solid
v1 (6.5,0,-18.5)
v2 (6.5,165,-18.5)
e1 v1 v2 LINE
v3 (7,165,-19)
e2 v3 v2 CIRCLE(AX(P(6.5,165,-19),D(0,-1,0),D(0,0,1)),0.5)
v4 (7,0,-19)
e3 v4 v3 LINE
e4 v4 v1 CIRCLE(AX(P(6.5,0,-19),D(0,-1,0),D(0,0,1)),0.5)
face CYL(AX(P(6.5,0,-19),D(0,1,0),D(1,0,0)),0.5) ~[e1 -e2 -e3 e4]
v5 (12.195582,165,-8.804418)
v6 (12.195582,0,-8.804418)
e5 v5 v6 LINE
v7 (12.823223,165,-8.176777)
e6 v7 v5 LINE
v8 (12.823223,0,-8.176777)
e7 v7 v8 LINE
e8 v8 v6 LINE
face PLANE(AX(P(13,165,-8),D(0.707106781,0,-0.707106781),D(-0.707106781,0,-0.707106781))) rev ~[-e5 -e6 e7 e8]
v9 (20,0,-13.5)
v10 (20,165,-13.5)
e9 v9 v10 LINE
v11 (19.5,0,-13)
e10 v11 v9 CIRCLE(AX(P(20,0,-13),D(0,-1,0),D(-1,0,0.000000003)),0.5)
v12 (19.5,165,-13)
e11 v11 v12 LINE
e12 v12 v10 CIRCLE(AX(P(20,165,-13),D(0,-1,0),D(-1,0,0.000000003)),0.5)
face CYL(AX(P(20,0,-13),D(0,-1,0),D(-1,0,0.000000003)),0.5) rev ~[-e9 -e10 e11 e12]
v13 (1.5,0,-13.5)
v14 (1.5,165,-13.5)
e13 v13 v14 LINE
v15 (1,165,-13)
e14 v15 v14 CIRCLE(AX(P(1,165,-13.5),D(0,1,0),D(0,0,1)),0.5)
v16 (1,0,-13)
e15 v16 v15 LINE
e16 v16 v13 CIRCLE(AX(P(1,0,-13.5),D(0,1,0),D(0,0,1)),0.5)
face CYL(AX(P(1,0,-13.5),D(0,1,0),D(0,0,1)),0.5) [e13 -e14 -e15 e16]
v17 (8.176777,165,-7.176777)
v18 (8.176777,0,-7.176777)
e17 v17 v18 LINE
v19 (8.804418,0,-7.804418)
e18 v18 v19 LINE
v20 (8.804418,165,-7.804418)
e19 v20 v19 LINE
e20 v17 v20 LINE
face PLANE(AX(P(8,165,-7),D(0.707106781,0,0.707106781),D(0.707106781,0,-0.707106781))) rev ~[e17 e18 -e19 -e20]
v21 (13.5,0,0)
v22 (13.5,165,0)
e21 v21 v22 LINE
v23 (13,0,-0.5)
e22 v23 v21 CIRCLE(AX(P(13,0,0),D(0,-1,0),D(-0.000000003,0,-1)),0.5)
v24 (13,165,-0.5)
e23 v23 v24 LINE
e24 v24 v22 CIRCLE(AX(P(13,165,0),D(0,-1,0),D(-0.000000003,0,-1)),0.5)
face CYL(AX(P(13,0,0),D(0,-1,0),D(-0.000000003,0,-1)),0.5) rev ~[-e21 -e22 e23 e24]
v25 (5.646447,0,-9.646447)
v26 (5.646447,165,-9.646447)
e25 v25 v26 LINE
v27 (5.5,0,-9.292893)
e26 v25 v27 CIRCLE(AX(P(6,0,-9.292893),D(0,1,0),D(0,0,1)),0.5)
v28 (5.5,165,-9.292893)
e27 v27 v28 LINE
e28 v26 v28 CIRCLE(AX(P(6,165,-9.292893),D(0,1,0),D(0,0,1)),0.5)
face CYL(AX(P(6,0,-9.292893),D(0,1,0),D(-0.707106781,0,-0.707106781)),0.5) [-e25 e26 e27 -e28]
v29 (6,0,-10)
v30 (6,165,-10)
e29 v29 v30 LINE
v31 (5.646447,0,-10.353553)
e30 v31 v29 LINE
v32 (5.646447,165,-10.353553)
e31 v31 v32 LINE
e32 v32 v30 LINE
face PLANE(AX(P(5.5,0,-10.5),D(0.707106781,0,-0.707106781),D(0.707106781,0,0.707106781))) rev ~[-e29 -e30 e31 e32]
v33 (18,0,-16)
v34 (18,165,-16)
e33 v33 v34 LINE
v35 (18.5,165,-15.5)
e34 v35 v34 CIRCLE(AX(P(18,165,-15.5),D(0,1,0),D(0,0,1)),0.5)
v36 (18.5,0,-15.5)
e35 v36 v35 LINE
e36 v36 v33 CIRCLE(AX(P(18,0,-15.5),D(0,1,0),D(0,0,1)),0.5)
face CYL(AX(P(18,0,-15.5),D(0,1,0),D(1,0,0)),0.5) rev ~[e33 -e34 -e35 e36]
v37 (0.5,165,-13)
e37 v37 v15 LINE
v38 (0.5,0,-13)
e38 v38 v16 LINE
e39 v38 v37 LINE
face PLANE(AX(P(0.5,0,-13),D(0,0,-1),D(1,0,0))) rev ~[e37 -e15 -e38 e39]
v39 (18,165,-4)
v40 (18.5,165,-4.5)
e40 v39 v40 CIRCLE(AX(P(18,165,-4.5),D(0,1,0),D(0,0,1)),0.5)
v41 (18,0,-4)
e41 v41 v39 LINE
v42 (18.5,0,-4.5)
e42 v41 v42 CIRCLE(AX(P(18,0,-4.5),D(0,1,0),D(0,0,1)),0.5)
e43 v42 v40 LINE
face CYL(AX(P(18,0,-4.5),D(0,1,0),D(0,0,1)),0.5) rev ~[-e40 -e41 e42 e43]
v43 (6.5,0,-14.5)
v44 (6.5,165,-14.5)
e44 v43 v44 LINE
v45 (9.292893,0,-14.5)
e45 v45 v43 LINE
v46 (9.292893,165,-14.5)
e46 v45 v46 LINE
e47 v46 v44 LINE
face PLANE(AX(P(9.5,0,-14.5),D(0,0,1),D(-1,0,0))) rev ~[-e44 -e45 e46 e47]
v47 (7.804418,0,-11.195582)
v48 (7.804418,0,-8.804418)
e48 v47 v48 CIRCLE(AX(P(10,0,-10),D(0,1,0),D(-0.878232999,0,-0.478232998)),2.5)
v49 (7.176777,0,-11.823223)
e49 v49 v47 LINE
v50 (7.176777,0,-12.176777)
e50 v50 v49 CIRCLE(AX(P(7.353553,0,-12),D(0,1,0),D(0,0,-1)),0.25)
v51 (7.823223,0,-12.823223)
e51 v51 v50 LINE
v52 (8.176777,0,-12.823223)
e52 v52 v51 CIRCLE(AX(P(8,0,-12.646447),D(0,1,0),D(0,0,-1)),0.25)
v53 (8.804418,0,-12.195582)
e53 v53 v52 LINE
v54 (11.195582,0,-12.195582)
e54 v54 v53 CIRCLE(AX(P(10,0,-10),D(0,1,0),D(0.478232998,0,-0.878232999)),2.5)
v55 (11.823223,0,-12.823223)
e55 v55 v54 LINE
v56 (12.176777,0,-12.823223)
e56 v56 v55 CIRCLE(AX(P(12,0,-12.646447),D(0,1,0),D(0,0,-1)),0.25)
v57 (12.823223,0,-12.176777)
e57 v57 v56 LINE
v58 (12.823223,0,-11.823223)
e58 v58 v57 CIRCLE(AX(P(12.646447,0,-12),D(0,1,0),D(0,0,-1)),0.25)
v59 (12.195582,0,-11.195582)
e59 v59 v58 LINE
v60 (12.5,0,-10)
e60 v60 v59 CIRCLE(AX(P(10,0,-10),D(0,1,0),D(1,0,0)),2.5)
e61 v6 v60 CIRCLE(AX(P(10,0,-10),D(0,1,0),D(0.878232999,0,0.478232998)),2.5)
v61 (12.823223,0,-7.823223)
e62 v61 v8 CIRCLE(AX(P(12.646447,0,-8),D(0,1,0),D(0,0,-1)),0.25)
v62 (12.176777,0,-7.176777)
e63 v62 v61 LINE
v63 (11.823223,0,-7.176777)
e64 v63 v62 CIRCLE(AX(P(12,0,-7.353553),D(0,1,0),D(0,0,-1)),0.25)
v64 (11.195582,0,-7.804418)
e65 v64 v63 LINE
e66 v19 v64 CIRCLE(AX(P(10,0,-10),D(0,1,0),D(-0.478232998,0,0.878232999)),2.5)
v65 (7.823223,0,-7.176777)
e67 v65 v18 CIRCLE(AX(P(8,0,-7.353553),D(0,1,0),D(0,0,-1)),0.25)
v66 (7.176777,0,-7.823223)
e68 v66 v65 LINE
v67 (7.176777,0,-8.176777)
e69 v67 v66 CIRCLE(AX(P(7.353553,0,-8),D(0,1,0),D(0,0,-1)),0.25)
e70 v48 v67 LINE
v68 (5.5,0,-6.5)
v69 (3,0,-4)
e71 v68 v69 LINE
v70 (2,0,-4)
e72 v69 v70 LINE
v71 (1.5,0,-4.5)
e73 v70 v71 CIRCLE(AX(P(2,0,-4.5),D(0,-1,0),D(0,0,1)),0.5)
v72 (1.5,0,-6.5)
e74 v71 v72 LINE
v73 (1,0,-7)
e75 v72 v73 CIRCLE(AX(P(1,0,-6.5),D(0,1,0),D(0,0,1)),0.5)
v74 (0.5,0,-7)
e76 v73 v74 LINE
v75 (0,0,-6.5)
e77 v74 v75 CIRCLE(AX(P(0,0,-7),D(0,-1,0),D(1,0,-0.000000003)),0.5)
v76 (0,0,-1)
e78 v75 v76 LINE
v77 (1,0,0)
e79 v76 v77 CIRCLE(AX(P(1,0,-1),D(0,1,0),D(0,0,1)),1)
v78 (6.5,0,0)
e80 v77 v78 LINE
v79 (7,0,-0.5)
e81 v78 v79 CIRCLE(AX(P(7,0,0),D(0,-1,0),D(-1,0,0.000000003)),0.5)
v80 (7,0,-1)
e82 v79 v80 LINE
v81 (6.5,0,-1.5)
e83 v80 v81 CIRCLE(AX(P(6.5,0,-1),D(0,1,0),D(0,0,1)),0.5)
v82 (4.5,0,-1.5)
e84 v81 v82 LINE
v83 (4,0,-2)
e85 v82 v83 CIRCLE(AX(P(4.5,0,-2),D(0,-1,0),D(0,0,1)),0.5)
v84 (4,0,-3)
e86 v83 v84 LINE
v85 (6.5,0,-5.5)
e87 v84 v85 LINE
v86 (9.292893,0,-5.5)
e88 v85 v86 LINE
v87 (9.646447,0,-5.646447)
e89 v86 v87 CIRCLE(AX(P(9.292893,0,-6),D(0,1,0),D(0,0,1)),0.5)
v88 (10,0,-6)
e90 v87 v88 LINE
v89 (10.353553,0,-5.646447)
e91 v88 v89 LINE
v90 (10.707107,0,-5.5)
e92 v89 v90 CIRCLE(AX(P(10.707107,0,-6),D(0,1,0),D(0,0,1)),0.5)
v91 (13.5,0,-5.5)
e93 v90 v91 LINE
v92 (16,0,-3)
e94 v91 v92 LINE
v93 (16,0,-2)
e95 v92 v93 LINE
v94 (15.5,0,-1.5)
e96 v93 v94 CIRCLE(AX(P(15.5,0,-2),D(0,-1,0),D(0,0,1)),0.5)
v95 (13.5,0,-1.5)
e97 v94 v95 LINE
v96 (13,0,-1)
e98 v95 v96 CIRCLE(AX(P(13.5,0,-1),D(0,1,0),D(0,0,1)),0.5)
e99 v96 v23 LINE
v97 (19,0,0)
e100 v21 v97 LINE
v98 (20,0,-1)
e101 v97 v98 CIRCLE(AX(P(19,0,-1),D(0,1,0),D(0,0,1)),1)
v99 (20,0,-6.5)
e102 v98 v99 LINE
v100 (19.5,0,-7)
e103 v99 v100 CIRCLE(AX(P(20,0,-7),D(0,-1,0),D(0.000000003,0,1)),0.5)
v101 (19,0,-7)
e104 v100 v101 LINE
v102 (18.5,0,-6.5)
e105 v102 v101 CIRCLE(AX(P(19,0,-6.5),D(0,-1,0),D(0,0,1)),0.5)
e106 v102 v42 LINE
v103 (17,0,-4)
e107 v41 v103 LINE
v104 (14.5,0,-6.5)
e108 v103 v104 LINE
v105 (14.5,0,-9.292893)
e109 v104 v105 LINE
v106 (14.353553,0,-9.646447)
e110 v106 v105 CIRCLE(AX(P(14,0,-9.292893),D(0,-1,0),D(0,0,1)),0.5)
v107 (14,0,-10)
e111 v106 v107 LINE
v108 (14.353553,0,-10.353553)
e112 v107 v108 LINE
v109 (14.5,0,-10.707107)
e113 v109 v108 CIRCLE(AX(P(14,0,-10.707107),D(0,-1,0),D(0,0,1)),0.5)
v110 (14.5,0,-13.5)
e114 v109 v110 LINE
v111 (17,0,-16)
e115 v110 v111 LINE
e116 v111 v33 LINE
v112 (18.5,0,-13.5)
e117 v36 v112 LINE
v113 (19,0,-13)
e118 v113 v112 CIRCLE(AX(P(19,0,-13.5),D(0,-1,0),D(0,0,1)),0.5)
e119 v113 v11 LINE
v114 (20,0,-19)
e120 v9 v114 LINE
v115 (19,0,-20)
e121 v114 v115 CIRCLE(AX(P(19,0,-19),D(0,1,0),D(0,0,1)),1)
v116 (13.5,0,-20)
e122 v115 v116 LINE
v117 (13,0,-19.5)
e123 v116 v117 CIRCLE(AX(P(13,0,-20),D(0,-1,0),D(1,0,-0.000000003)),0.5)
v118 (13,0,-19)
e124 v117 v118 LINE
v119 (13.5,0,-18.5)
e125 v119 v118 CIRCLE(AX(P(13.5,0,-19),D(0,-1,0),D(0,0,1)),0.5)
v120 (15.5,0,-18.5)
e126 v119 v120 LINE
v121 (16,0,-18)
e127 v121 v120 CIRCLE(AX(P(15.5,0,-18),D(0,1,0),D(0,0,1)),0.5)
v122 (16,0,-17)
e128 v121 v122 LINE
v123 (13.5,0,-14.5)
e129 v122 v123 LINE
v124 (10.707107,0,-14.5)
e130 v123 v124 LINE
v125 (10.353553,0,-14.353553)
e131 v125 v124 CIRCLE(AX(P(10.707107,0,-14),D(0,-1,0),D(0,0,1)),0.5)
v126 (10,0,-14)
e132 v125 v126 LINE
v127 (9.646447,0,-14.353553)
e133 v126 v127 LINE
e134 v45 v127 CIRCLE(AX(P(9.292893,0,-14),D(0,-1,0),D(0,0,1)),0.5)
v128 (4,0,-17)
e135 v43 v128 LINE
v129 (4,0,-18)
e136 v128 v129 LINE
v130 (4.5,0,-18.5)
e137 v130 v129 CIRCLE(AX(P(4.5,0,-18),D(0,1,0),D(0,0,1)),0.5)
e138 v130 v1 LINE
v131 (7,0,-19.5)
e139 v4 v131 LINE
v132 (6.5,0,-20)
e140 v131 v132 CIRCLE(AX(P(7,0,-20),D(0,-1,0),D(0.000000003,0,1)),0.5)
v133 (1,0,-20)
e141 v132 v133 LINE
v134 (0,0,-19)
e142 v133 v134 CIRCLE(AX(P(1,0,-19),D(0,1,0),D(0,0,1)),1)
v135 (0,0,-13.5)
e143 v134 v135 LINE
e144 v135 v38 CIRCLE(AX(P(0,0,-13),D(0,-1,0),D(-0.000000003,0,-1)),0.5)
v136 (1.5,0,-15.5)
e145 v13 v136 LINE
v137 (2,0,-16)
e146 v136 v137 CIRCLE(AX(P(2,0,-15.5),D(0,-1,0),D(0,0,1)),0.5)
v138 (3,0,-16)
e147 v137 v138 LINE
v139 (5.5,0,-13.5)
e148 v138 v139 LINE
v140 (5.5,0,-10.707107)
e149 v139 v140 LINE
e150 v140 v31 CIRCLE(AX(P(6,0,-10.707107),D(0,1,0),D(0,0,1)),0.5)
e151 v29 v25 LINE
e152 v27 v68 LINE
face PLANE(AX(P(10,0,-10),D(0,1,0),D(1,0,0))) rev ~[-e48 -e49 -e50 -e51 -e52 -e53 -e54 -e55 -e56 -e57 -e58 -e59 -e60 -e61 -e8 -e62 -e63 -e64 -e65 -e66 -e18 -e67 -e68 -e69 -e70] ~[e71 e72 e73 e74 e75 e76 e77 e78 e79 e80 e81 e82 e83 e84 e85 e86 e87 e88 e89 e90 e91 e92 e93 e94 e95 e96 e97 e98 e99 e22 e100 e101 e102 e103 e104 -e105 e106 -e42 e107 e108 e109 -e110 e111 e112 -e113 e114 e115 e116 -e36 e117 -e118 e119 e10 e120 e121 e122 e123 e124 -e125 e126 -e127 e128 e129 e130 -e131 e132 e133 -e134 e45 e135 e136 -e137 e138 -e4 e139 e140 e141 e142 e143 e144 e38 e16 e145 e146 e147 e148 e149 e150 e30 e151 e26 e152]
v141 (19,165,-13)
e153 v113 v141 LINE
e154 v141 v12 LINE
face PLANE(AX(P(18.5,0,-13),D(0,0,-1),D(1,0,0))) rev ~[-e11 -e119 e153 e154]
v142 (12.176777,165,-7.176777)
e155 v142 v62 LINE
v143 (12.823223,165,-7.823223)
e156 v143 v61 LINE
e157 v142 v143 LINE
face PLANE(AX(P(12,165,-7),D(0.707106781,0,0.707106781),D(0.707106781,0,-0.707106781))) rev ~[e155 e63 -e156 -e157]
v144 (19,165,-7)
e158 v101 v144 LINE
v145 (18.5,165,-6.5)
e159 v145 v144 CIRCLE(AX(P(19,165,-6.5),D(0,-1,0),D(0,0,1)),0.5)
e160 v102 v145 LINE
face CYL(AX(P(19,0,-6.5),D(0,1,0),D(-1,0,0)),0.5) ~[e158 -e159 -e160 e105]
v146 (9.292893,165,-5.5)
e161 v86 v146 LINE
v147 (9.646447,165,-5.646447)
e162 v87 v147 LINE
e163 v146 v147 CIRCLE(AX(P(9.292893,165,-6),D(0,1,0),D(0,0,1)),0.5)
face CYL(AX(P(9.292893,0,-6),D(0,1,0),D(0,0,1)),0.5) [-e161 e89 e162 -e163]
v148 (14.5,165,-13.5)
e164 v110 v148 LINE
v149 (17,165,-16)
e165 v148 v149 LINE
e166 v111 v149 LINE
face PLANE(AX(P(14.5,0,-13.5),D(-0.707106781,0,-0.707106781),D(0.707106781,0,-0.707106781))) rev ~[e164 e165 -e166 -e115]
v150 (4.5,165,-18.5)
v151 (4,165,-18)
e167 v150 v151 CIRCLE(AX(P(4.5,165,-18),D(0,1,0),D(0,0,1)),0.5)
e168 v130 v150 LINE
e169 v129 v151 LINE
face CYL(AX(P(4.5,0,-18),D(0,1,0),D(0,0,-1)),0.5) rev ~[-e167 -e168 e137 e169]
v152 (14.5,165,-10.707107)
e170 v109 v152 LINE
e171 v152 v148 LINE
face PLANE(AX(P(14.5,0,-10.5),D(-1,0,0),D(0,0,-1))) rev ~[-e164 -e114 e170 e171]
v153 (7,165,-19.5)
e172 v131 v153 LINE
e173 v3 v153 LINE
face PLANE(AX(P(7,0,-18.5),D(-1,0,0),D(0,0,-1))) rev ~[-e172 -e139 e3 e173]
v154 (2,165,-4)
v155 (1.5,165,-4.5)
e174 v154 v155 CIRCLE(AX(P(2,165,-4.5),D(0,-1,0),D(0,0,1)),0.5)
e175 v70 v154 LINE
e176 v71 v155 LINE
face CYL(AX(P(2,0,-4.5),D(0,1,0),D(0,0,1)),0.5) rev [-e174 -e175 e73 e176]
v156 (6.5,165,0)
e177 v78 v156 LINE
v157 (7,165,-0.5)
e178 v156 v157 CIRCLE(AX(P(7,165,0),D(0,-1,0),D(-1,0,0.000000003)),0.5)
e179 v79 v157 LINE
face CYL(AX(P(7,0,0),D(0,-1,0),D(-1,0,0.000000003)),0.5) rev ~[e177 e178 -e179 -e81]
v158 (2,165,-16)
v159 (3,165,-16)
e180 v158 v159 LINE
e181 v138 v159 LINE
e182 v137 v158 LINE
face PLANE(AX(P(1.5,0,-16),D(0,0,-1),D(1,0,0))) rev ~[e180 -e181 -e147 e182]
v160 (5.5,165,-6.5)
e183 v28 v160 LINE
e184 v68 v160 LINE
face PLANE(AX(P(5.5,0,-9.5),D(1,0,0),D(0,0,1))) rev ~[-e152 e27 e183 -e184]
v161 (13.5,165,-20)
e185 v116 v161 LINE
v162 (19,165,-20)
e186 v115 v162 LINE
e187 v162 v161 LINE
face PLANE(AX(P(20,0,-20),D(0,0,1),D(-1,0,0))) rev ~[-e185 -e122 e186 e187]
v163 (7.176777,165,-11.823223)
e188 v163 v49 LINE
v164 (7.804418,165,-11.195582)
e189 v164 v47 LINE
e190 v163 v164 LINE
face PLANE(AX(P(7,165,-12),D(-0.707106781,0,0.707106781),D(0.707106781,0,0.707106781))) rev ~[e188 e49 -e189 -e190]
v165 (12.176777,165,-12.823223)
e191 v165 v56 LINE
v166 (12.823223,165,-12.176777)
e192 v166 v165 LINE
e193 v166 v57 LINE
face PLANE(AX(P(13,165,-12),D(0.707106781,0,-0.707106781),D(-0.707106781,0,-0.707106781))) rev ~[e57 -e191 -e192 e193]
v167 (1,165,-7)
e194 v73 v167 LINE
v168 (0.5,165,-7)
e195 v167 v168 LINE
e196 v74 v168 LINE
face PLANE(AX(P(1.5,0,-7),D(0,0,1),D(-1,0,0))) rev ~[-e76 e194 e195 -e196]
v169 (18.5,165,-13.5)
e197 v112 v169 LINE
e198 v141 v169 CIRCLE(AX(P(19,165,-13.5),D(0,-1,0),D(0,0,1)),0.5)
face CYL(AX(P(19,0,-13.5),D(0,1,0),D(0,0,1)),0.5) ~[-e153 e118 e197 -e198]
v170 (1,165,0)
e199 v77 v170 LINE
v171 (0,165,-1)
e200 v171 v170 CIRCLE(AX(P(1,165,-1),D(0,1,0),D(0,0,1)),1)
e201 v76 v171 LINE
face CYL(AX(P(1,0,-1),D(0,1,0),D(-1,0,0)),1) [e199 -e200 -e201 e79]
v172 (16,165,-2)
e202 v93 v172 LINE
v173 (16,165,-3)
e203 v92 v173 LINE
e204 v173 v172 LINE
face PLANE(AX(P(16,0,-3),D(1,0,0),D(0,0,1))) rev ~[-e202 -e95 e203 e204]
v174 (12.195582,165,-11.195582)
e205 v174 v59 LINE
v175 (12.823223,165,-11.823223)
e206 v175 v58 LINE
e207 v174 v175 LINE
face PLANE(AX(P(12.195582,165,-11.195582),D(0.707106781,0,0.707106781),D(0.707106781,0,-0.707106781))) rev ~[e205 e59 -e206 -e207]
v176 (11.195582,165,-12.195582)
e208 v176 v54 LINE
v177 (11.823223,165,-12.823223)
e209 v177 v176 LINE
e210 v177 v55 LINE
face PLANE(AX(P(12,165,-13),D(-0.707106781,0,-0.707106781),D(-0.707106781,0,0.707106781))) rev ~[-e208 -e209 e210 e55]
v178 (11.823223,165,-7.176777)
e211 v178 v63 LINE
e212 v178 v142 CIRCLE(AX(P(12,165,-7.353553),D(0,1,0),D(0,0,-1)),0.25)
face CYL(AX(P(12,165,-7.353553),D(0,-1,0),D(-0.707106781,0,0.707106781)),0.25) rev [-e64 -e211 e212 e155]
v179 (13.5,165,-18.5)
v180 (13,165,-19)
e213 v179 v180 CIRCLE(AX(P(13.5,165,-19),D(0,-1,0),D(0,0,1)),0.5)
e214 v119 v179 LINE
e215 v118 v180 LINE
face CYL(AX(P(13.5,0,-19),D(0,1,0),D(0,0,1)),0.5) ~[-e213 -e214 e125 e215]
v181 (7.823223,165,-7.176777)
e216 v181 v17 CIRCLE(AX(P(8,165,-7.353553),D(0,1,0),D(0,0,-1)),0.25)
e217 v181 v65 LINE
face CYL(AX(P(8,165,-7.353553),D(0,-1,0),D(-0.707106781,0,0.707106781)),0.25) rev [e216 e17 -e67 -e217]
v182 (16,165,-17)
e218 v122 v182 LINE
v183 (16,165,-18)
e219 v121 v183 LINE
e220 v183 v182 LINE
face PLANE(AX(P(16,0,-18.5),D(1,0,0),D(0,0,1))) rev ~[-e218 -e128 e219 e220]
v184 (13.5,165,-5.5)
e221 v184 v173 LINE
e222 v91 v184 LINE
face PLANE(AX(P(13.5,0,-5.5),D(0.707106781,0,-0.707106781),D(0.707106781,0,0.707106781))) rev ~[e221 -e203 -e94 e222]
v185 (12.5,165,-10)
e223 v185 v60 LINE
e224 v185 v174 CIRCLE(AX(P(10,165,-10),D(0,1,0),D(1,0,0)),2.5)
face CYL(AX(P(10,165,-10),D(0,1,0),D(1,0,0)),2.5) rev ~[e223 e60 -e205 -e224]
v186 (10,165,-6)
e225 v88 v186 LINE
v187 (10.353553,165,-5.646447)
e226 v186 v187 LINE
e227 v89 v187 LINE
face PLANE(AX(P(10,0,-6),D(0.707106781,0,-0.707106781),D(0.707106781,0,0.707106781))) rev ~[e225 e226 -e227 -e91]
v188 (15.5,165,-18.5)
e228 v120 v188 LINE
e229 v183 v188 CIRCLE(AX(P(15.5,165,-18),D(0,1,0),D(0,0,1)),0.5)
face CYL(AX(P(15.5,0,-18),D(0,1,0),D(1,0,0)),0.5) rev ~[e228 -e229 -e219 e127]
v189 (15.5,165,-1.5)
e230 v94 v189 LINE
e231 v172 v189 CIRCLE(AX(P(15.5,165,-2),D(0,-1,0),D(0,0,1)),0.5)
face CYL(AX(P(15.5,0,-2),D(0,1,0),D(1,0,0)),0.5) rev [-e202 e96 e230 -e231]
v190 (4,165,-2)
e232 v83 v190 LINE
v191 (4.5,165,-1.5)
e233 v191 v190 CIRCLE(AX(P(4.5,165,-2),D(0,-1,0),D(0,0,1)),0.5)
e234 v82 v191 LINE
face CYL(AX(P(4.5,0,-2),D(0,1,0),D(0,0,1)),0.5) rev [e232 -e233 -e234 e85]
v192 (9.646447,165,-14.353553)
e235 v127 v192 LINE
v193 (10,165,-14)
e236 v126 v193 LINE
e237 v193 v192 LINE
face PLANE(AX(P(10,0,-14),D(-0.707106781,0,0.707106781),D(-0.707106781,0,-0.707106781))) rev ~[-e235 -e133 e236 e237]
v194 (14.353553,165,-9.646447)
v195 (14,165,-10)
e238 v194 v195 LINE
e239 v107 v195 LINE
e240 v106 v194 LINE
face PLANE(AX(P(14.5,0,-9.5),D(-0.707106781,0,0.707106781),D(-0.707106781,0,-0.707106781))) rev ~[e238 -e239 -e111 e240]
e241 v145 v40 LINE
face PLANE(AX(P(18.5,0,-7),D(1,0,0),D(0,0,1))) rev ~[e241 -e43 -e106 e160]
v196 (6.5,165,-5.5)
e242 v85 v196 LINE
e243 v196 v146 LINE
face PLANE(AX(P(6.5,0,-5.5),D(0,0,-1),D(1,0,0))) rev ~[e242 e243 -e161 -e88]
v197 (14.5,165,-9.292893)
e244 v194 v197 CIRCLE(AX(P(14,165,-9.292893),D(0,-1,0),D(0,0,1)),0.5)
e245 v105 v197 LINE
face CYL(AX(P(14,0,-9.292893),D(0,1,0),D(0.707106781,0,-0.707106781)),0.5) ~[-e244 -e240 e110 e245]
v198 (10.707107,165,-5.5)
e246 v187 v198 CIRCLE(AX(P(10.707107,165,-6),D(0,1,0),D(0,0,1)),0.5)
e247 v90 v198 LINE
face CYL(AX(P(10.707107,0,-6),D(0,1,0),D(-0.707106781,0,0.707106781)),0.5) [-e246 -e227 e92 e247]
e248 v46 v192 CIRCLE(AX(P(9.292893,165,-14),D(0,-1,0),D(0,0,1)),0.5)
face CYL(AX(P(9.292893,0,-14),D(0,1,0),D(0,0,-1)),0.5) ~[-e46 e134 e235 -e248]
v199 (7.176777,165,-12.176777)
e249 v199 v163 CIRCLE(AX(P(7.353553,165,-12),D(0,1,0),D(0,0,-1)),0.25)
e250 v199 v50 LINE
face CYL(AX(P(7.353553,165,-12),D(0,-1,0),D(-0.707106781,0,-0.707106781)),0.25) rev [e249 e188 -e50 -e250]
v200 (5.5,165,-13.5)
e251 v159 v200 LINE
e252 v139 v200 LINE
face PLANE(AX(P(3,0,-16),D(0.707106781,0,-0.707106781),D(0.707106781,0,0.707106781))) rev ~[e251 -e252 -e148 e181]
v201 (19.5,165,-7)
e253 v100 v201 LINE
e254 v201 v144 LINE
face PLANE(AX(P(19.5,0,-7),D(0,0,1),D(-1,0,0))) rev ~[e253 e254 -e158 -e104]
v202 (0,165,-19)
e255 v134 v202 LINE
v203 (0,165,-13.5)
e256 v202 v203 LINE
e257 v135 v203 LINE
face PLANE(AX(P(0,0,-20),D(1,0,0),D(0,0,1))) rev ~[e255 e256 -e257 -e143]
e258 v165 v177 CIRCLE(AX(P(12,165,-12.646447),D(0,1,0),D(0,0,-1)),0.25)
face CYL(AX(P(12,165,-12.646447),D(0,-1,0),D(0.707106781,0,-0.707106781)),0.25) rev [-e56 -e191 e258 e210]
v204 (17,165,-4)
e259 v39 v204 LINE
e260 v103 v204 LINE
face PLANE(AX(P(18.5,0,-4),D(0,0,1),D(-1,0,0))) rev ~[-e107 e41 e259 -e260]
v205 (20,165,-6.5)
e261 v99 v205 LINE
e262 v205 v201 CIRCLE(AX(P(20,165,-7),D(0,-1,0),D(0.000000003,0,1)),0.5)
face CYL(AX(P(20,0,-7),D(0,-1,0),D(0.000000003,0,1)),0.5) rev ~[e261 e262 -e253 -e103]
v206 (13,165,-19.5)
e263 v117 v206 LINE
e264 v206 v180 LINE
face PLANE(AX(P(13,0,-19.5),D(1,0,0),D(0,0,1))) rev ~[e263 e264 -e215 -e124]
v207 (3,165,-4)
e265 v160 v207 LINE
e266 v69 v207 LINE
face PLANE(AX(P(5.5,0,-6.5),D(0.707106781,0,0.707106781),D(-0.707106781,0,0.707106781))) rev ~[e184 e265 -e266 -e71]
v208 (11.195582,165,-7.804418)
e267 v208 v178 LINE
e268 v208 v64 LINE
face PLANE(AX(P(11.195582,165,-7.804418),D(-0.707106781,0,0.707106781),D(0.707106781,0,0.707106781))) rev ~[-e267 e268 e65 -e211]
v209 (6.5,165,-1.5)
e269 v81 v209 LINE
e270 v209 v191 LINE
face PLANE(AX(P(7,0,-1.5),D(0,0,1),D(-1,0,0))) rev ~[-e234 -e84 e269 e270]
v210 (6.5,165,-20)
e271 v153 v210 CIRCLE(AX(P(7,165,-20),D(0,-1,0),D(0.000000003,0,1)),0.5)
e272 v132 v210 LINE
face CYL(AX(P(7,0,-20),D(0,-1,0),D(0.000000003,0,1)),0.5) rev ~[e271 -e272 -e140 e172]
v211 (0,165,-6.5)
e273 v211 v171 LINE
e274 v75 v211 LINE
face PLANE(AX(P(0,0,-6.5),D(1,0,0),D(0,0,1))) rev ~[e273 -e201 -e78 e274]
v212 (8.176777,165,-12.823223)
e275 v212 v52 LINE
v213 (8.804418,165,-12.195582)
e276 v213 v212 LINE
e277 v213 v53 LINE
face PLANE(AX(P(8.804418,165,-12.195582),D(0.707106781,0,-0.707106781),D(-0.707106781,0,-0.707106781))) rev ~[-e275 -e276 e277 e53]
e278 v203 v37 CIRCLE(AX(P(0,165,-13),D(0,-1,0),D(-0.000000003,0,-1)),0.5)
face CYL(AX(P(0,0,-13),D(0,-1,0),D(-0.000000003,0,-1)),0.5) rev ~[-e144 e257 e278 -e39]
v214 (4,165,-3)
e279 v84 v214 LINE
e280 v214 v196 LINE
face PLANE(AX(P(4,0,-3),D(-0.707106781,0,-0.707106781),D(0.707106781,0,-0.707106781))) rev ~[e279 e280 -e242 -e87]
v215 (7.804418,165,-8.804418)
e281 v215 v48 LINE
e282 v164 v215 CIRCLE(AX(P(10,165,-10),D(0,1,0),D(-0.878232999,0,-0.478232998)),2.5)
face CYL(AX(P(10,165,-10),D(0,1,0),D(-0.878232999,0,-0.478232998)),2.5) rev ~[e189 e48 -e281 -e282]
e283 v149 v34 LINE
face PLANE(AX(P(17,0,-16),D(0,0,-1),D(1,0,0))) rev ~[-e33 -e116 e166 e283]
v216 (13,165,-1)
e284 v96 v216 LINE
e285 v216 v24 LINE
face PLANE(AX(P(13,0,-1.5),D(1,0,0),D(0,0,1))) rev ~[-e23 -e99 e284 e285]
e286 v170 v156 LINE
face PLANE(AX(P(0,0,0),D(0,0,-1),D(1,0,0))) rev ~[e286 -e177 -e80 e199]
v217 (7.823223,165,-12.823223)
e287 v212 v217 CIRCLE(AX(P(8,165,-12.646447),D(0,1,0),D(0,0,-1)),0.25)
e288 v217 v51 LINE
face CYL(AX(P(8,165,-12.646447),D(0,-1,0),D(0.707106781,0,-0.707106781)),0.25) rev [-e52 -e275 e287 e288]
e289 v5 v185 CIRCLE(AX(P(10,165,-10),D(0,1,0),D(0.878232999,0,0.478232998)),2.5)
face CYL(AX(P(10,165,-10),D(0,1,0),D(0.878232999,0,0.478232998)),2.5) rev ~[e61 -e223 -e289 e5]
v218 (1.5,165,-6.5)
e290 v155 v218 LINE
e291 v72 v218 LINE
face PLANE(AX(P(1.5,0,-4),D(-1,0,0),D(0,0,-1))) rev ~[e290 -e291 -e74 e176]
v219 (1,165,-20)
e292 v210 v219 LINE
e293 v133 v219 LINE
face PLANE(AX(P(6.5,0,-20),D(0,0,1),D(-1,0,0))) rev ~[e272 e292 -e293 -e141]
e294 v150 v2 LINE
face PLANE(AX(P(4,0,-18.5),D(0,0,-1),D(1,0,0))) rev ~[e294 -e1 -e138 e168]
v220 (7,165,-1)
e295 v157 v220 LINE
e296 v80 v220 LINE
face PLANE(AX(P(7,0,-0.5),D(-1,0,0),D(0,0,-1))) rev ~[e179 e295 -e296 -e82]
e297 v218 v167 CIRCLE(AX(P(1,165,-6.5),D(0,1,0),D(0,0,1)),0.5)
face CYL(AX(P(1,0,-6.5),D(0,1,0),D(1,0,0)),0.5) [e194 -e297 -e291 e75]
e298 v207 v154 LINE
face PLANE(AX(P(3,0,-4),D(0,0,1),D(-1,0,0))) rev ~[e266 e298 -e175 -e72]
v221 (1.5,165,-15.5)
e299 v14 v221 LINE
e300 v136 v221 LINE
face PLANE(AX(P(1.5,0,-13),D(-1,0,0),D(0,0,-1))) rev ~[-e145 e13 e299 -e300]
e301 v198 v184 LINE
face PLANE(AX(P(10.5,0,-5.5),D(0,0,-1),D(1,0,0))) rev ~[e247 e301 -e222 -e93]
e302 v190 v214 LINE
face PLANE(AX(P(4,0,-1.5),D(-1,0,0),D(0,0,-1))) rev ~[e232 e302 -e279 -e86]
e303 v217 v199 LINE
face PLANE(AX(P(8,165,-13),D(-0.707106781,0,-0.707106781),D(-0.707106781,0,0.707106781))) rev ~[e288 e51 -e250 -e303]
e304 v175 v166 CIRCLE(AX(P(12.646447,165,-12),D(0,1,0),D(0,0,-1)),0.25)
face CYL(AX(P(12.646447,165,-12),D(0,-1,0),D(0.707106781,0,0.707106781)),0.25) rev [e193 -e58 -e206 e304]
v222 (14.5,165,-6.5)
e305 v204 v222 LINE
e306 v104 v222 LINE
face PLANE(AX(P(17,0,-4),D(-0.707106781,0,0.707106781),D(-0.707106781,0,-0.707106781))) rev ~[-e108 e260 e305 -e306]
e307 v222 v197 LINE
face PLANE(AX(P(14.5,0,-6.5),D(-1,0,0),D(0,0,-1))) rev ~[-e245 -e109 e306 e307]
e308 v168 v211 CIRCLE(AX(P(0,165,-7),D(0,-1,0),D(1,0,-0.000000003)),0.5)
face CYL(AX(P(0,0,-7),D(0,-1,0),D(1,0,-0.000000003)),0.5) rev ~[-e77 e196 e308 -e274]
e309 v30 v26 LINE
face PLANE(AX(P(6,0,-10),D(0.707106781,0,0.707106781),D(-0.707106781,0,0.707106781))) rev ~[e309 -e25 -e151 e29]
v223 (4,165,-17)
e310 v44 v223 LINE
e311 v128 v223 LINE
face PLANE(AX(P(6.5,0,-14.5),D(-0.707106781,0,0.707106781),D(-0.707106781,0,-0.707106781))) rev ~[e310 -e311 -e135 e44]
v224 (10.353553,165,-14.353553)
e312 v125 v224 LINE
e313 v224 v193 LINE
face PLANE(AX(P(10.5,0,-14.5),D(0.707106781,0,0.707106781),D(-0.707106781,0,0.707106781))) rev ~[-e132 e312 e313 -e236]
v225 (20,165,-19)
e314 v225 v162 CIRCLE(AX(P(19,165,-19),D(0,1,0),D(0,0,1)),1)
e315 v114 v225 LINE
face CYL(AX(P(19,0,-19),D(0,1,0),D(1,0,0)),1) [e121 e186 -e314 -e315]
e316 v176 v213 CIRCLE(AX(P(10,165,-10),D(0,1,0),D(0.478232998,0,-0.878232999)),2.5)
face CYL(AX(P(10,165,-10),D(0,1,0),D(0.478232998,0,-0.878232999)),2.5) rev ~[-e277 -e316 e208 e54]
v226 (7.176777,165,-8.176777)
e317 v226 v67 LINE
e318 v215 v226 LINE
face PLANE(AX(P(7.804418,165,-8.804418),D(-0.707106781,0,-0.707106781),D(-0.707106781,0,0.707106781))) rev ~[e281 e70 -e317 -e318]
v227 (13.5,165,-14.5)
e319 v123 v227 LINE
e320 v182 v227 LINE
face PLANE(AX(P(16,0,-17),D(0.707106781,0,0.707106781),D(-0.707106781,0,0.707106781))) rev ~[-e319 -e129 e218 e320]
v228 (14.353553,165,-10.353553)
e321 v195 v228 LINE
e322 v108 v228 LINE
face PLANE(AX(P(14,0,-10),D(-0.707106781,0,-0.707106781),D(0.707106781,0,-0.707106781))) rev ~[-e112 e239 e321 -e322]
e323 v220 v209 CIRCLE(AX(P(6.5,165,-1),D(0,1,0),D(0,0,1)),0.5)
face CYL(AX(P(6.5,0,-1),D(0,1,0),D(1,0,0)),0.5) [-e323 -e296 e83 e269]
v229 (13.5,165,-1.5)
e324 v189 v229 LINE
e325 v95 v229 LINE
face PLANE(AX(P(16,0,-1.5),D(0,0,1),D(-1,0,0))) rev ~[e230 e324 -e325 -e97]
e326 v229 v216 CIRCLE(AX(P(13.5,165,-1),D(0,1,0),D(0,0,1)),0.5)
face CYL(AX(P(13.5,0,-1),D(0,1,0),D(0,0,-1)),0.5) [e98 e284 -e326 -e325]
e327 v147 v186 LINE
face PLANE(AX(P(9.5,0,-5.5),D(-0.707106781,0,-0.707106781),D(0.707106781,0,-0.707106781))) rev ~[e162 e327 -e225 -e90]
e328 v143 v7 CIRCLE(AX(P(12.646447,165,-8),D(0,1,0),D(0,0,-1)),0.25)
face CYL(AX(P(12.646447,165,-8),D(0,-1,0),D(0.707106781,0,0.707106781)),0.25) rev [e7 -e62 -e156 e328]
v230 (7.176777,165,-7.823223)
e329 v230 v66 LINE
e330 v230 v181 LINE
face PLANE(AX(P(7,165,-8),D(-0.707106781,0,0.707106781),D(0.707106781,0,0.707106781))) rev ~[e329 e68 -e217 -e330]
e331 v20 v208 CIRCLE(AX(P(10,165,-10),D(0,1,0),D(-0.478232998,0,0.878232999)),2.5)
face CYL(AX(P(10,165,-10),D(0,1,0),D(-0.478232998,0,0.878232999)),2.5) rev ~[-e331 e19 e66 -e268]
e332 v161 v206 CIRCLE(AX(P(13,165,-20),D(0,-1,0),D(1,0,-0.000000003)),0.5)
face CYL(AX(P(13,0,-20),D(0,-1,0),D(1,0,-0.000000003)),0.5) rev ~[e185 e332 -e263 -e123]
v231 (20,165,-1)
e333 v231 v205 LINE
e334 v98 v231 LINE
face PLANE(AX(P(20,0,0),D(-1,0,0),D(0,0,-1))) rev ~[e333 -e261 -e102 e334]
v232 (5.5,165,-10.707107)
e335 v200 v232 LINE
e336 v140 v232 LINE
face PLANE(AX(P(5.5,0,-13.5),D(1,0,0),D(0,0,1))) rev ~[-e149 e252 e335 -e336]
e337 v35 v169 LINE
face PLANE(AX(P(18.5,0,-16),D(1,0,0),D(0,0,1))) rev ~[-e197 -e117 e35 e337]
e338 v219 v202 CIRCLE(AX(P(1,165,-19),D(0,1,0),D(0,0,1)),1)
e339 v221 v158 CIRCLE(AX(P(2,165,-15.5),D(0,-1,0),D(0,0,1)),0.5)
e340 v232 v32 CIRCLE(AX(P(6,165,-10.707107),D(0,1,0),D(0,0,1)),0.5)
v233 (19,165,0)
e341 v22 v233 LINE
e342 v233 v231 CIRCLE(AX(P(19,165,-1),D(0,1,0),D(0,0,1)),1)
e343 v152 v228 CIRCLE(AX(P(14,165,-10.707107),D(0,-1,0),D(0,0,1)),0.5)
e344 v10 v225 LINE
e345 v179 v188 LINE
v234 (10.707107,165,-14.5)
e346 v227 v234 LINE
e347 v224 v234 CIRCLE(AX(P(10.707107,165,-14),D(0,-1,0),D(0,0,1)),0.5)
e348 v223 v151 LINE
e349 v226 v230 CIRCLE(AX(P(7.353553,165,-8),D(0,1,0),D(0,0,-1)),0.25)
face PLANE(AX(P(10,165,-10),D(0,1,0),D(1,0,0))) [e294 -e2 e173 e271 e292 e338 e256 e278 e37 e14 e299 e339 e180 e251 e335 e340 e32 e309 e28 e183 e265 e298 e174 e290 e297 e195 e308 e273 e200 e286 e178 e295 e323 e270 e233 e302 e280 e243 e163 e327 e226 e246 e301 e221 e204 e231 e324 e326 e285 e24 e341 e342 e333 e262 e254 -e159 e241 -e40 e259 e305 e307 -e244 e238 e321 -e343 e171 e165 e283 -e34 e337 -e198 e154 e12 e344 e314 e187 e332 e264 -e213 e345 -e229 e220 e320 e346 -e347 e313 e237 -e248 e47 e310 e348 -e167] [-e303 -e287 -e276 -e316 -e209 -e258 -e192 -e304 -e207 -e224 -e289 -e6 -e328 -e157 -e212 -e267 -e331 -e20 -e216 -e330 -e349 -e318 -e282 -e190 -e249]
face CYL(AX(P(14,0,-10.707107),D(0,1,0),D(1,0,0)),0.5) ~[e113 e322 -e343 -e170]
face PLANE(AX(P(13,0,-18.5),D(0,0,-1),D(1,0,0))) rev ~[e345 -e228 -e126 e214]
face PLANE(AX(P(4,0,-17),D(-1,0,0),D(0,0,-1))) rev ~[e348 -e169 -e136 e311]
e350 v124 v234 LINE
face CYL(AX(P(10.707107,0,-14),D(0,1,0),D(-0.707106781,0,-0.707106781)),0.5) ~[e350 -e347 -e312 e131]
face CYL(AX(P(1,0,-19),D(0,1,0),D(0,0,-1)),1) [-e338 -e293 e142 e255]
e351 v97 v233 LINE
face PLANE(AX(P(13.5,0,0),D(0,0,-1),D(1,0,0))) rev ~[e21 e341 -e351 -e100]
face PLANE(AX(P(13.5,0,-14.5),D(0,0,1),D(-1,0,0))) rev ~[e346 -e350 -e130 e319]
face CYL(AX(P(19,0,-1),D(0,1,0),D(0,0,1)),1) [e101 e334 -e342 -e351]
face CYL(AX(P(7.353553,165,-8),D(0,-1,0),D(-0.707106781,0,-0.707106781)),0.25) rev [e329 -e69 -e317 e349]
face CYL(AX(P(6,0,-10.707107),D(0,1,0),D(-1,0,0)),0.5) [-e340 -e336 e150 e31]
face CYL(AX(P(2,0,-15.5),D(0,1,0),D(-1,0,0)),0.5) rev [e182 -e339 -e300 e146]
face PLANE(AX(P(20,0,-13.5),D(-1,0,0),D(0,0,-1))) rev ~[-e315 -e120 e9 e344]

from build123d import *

# Parameters (mm, degrees)
BOSS_EXTRUDE1_DEPTH = 165
FILLET1_R           = 1
CUT_EXTRUDE1_DEPTH  = 166
FILLET2_R           = 0.5
FILLET3_R           = 0.25


with BuildPart() as part:
    # Sketch3 → Boss-Extrude1 (new body)
    with BuildSketch(Plane(origin=(0, 0, 0), x_dir=(1, 0, 0), z_dir=(0, 1, 0))):
        with BuildLine():
            Line((7, 18.5), (7, 19.5))
            ThreePointArc((7, 19.5), (6.646446609, 19.646446609), (6.5, 20))
            Line((6.5, 20), (0, 20))
            Line((0, 20), (0, 13.5))
            ThreePointArc((0, 13.5), (0.353553391, 13.353553391), (0.5, 13))
            Line((0.5, 13), (1.5, 13))
            Line((1.5, 13), (1.5, 16))
            Line((1.5, 16), (3, 16))
            Line((3, 16), (5.5, 13.5))
            Line((5.5, 13.5), (5.5, 10.5))
            Line((5.5, 10.5), (6, 10))
            Line((6, 10), (5.5, 9.5))
            Line((5.5, 9.5), (5.5, 6.5))
            Line((5.5, 6.5), (3, 4))
            Line((3, 4), (1.5, 4))
            Line((1.5, 4), (1.5, 7))
            Line((1.5, 7), (0.5, 7))
            ThreePointArc((0.5, 7), (0.353553391, 6.646446609), (0, 6.5))
            Line((0, 6.5), (0, 0))
            Line((0, 0), (6.5, 0))
            ThreePointArc((6.5, 0), (6.646446609, 0.353553391), (7, 0.5))
            Line((7, 0.5), (7, 1.5))
            Line((7, 1.5), (4, 1.5))
            Line((4, 1.5), (4, 3))
            Line((4, 3), (6.5, 5.5))
            Line((6.5, 5.5), (9.5, 5.5))
            Line((9.5, 5.5), (10, 6))
            Line((10, 6), (10.5, 5.5))
            Line((10.5, 5.5), (13.5, 5.5))
            Line((13.5, 5.5), (16, 3))
            Line((16, 3), (16, 1.5))
            Line((16, 1.5), (13, 1.5))
            Line((13, 1.5), (13, 0.5))
            ThreePointArc((13, 0.5), (13.353553391, 0.353553391), (13.5, 0))
            Line((13.5, 0), (20, 0))
            Line((20, 0), (20, 6.5))
            ThreePointArc((20, 6.5), (19.646446609, 6.646446609), (19.5, 7))
            Line((19.5, 7), (18.5, 7))
            Line((18.5, 7), (18.5, 4))
            Line((18.5, 4), (17, 4))
            Line((17, 4), (14.5, 6.5))
            Line((14.5, 6.5), (14.5, 9.5))
            Line((14.5, 9.5), (14, 10))
            Line((14, 10), (14.5, 10.5))
            Line((14.5, 10.5), (14.5, 13.5))
            Line((14.5, 13.5), (17, 16))
            Line((17, 16), (18.5, 16))
            Line((18.5, 16), (18.5, 13))
            Line((18.5, 13), (19.5, 13))
            ThreePointArc((19.5, 13), (19.646446609, 13.353553391), (20, 13.5))
            Line((20, 13.5), (20, 20))
            Line((20, 20), (13.5, 20))
            ThreePointArc((13.5, 20), (13.353553391, 19.646446609), (13, 19.5))
            Line((13, 19.5), (13, 18.5))
            Line((13, 18.5), (16, 18.5))
            Line((16, 18.5), (16, 17))
            Line((16, 17), (13.5, 14.5))
            Line((13.5, 14.5), (10.5, 14.5))
            Line((10.5, 14.5), (10, 14))
            Line((10, 14), (9.5, 14.5))
            Line((9.5, 14.5), (6.5, 14.5))
            Line((6.5, 14.5), (4, 17))
            Line((4, 17), (4, 18.5))
            Line((4, 18.5), (7, 18.5))
        make_face()
    extrude(amount=BOSS_EXTRUDE1_DEPTH)

    # Fillet1
    fillet1_edges = [part.edges().sort_by_distance(p)[0] for p in [
        (20, 82.5, 0),
        (0, 82.5, 0),
        (0, 82.5, -20),
        (20, 82.5, -20),
    ]]
    fillet(fillet1_edges, radius=FILLET1_R)

    # Sketch4 → Cut-Extrude1 (cut, through all)
    with BuildSketch(Plane(origin=(0, 165, 0), x_dir=(1, 0, 0), z_dir=(0, 1, 0))):
        with BuildLine():
            Line((10, 11), (11.195582496, 12.195582496))
            ThreePointArc((11.195582496, 12.195582496), (10, 12.5), (8.804417504, 12.195582496))
            Line((8.804417504, 12.195582496), (10, 11))
        make_face()
        with BuildLine():
            ThreePointArc((12.195582496, 11.195582496), (11.767766953, 11.767766953), (11.195582496, 12.195582496))
            Line((11.195582496, 12.195582496), (10, 11))
            Line((10, 11), (11, 10))
            Line((11, 10), (12.195582496, 11.195582496))
        make_face()
        with BuildLine():
            Line((9, 10), (10, 11))
            Line((10, 11), (8.804417504, 12.195582496))
            ThreePointArc((8.804417504, 12.195582496), (8.232233047, 11.767766953), (7.804417504, 11.195582496))
            Line((7.804417504, 11.195582496), (9, 10))
        make_face()
        Polygon((11, 10), (10, 11), (9, 10), (10, 9), align=None)
        with BuildLine():
            Line((7.804417504, 8.804417504), (9, 10))
            Line((9, 10), (7.804417504, 11.195582496))
            ThreePointArc((7.804417504, 11.195582496), (7.5, 10), (7.804417504, 8.804417504))
        make_face()
        with BuildLine():
            Line((10, 9), (9, 10))
            Line((9, 10), (7.804417504, 8.804417504))
            ThreePointArc((7.804417504, 8.804417504), (8.232233047, 8.232233047), (8.804417504, 7.804417504))
            Line((8.804417504, 7.804417504), (10, 9))
        make_face()
        with BuildLine():
            Line((11.195582496, 7.804417504), (10, 9))
            Line((10, 9), (8.804417504, 7.804417504))
            ThreePointArc((8.804417504, 7.804417504), (10, 7.5), (11.195582496, 7.804417504))
        make_face()
        with BuildLine():
            Line((12.195582496, 8.804417504), (11, 10))
            Line((11, 10), (10, 9))
            Line((10, 9), (11.195582496, 7.804417504))
            ThreePointArc((11.195582496, 7.804417504), (11.767766953, 8.232233047), (12.195582496, 8.804417504))
        make_face()
        with BuildLine():
            ThreePointArc((12.5, 10), (12.422700584, 10.616864556), (12.195582496, 11.195582496))
            Line((12.195582496, 11.195582496), (11, 10))
            Line((11, 10), (12.195582496, 8.804417504))
            ThreePointArc((12.195582496, 8.804417504), (12.422700584, 9.383135444), (12.5, 10))
        make_face()
        with BuildLine():
            ThreePointArc((8.804417504, 7.804417504), (8.232233047, 8.232233047), (7.804417504, 8.804417504))
            Line((7.804417504, 8.804417504), (7, 8))
            Line((7, 8), (8, 7))
            Line((8, 7), (8.804417504, 7.804417504))
        make_face()
        with BuildLine():
            Line((13, 8), (12.195582496, 8.804417504))
            ThreePointArc((12.195582496, 8.804417504), (11.767766953, 8.232233047), (11.195582496, 7.804417504))
            Line((11.195582496, 7.804417504), (12, 7))
            Line((12, 7), (13, 8))
        make_face()
        with BuildLine():
            Line((13, 12), (12, 13))
            Line((12, 13), (11.195582496, 12.195582496))
            ThreePointArc((11.195582496, 12.195582496), (11.767766953, 11.767766953), (12.195582496, 11.195582496))
            Line((12.195582496, 11.195582496), (13, 12))
        make_face()
        with BuildLine():
            ThreePointArc((7.804417504, 11.195582496), (8.232233047, 11.767766953), (8.804417504, 12.195582496))
            Line((8.804417504, 12.195582496), (8, 13))
            Line((8, 13), (7, 12))
            Line((7, 12), (7.804417504, 11.195582496))
        make_face()
    extrude(amount=-CUT_EXTRUDE1_DEPTH, mode=Mode.SUBTRACT)

    # Fillet2
    fillet2_edges = [part.edges().sort_by_distance(p)[0] for p in [
        (18.5, 82.5, -13),
        (18.5, 82.5, -16),
        (14.5, 82.5, -10.5),
        (14.5, 82.5, -9.5),
        (18.5, 82.5, -4),
        (18.5, 82.5, -7),
        (13, 82.5, -1.5),
        (16, 82.5, -1.5),
        (10.5, 82.5, -5.5),
        (9.5, 82.5, -5.5),
        (4, 82.5, -1.5),
        (7, 82.5, -1.5),
        (1.5, 82.5, -7),
        (1.5, 82.5, -4),
        (5.5, 82.5, -9.5),
        (5.5, 82.5, -10.5),
        (1.5, 82.5, -16),
        (1.5, 82.5, -13),
        (7, 82.5, -18.5),
        (4, 82.5, -18.5),
        (9.5, 82.5, -14.5),
        (10.5, 82.5, -14.5),
        (16, 82.5, -18.5),
        (13, 82.5, -18.5),
    ]]
    fillet(fillet2_edges, radius=FILLET2_R)

    # Fillet3
    fillet3_edges = [part.edges().sort_by_distance(p)[0] for p in [
        (7, 82.5, -12),
        (8, 82.5, -13),
        (12, 82.5, -13),
        (13, 82.5, -12),
        (13, 82.5, -8),
        (12, 82.5, -7),
        (8, 82.5, -7),
        (7, 82.5, -8),
    ]]
    fillet(fillet3_edges, radius=FILLET3_R)


solid = part.part
